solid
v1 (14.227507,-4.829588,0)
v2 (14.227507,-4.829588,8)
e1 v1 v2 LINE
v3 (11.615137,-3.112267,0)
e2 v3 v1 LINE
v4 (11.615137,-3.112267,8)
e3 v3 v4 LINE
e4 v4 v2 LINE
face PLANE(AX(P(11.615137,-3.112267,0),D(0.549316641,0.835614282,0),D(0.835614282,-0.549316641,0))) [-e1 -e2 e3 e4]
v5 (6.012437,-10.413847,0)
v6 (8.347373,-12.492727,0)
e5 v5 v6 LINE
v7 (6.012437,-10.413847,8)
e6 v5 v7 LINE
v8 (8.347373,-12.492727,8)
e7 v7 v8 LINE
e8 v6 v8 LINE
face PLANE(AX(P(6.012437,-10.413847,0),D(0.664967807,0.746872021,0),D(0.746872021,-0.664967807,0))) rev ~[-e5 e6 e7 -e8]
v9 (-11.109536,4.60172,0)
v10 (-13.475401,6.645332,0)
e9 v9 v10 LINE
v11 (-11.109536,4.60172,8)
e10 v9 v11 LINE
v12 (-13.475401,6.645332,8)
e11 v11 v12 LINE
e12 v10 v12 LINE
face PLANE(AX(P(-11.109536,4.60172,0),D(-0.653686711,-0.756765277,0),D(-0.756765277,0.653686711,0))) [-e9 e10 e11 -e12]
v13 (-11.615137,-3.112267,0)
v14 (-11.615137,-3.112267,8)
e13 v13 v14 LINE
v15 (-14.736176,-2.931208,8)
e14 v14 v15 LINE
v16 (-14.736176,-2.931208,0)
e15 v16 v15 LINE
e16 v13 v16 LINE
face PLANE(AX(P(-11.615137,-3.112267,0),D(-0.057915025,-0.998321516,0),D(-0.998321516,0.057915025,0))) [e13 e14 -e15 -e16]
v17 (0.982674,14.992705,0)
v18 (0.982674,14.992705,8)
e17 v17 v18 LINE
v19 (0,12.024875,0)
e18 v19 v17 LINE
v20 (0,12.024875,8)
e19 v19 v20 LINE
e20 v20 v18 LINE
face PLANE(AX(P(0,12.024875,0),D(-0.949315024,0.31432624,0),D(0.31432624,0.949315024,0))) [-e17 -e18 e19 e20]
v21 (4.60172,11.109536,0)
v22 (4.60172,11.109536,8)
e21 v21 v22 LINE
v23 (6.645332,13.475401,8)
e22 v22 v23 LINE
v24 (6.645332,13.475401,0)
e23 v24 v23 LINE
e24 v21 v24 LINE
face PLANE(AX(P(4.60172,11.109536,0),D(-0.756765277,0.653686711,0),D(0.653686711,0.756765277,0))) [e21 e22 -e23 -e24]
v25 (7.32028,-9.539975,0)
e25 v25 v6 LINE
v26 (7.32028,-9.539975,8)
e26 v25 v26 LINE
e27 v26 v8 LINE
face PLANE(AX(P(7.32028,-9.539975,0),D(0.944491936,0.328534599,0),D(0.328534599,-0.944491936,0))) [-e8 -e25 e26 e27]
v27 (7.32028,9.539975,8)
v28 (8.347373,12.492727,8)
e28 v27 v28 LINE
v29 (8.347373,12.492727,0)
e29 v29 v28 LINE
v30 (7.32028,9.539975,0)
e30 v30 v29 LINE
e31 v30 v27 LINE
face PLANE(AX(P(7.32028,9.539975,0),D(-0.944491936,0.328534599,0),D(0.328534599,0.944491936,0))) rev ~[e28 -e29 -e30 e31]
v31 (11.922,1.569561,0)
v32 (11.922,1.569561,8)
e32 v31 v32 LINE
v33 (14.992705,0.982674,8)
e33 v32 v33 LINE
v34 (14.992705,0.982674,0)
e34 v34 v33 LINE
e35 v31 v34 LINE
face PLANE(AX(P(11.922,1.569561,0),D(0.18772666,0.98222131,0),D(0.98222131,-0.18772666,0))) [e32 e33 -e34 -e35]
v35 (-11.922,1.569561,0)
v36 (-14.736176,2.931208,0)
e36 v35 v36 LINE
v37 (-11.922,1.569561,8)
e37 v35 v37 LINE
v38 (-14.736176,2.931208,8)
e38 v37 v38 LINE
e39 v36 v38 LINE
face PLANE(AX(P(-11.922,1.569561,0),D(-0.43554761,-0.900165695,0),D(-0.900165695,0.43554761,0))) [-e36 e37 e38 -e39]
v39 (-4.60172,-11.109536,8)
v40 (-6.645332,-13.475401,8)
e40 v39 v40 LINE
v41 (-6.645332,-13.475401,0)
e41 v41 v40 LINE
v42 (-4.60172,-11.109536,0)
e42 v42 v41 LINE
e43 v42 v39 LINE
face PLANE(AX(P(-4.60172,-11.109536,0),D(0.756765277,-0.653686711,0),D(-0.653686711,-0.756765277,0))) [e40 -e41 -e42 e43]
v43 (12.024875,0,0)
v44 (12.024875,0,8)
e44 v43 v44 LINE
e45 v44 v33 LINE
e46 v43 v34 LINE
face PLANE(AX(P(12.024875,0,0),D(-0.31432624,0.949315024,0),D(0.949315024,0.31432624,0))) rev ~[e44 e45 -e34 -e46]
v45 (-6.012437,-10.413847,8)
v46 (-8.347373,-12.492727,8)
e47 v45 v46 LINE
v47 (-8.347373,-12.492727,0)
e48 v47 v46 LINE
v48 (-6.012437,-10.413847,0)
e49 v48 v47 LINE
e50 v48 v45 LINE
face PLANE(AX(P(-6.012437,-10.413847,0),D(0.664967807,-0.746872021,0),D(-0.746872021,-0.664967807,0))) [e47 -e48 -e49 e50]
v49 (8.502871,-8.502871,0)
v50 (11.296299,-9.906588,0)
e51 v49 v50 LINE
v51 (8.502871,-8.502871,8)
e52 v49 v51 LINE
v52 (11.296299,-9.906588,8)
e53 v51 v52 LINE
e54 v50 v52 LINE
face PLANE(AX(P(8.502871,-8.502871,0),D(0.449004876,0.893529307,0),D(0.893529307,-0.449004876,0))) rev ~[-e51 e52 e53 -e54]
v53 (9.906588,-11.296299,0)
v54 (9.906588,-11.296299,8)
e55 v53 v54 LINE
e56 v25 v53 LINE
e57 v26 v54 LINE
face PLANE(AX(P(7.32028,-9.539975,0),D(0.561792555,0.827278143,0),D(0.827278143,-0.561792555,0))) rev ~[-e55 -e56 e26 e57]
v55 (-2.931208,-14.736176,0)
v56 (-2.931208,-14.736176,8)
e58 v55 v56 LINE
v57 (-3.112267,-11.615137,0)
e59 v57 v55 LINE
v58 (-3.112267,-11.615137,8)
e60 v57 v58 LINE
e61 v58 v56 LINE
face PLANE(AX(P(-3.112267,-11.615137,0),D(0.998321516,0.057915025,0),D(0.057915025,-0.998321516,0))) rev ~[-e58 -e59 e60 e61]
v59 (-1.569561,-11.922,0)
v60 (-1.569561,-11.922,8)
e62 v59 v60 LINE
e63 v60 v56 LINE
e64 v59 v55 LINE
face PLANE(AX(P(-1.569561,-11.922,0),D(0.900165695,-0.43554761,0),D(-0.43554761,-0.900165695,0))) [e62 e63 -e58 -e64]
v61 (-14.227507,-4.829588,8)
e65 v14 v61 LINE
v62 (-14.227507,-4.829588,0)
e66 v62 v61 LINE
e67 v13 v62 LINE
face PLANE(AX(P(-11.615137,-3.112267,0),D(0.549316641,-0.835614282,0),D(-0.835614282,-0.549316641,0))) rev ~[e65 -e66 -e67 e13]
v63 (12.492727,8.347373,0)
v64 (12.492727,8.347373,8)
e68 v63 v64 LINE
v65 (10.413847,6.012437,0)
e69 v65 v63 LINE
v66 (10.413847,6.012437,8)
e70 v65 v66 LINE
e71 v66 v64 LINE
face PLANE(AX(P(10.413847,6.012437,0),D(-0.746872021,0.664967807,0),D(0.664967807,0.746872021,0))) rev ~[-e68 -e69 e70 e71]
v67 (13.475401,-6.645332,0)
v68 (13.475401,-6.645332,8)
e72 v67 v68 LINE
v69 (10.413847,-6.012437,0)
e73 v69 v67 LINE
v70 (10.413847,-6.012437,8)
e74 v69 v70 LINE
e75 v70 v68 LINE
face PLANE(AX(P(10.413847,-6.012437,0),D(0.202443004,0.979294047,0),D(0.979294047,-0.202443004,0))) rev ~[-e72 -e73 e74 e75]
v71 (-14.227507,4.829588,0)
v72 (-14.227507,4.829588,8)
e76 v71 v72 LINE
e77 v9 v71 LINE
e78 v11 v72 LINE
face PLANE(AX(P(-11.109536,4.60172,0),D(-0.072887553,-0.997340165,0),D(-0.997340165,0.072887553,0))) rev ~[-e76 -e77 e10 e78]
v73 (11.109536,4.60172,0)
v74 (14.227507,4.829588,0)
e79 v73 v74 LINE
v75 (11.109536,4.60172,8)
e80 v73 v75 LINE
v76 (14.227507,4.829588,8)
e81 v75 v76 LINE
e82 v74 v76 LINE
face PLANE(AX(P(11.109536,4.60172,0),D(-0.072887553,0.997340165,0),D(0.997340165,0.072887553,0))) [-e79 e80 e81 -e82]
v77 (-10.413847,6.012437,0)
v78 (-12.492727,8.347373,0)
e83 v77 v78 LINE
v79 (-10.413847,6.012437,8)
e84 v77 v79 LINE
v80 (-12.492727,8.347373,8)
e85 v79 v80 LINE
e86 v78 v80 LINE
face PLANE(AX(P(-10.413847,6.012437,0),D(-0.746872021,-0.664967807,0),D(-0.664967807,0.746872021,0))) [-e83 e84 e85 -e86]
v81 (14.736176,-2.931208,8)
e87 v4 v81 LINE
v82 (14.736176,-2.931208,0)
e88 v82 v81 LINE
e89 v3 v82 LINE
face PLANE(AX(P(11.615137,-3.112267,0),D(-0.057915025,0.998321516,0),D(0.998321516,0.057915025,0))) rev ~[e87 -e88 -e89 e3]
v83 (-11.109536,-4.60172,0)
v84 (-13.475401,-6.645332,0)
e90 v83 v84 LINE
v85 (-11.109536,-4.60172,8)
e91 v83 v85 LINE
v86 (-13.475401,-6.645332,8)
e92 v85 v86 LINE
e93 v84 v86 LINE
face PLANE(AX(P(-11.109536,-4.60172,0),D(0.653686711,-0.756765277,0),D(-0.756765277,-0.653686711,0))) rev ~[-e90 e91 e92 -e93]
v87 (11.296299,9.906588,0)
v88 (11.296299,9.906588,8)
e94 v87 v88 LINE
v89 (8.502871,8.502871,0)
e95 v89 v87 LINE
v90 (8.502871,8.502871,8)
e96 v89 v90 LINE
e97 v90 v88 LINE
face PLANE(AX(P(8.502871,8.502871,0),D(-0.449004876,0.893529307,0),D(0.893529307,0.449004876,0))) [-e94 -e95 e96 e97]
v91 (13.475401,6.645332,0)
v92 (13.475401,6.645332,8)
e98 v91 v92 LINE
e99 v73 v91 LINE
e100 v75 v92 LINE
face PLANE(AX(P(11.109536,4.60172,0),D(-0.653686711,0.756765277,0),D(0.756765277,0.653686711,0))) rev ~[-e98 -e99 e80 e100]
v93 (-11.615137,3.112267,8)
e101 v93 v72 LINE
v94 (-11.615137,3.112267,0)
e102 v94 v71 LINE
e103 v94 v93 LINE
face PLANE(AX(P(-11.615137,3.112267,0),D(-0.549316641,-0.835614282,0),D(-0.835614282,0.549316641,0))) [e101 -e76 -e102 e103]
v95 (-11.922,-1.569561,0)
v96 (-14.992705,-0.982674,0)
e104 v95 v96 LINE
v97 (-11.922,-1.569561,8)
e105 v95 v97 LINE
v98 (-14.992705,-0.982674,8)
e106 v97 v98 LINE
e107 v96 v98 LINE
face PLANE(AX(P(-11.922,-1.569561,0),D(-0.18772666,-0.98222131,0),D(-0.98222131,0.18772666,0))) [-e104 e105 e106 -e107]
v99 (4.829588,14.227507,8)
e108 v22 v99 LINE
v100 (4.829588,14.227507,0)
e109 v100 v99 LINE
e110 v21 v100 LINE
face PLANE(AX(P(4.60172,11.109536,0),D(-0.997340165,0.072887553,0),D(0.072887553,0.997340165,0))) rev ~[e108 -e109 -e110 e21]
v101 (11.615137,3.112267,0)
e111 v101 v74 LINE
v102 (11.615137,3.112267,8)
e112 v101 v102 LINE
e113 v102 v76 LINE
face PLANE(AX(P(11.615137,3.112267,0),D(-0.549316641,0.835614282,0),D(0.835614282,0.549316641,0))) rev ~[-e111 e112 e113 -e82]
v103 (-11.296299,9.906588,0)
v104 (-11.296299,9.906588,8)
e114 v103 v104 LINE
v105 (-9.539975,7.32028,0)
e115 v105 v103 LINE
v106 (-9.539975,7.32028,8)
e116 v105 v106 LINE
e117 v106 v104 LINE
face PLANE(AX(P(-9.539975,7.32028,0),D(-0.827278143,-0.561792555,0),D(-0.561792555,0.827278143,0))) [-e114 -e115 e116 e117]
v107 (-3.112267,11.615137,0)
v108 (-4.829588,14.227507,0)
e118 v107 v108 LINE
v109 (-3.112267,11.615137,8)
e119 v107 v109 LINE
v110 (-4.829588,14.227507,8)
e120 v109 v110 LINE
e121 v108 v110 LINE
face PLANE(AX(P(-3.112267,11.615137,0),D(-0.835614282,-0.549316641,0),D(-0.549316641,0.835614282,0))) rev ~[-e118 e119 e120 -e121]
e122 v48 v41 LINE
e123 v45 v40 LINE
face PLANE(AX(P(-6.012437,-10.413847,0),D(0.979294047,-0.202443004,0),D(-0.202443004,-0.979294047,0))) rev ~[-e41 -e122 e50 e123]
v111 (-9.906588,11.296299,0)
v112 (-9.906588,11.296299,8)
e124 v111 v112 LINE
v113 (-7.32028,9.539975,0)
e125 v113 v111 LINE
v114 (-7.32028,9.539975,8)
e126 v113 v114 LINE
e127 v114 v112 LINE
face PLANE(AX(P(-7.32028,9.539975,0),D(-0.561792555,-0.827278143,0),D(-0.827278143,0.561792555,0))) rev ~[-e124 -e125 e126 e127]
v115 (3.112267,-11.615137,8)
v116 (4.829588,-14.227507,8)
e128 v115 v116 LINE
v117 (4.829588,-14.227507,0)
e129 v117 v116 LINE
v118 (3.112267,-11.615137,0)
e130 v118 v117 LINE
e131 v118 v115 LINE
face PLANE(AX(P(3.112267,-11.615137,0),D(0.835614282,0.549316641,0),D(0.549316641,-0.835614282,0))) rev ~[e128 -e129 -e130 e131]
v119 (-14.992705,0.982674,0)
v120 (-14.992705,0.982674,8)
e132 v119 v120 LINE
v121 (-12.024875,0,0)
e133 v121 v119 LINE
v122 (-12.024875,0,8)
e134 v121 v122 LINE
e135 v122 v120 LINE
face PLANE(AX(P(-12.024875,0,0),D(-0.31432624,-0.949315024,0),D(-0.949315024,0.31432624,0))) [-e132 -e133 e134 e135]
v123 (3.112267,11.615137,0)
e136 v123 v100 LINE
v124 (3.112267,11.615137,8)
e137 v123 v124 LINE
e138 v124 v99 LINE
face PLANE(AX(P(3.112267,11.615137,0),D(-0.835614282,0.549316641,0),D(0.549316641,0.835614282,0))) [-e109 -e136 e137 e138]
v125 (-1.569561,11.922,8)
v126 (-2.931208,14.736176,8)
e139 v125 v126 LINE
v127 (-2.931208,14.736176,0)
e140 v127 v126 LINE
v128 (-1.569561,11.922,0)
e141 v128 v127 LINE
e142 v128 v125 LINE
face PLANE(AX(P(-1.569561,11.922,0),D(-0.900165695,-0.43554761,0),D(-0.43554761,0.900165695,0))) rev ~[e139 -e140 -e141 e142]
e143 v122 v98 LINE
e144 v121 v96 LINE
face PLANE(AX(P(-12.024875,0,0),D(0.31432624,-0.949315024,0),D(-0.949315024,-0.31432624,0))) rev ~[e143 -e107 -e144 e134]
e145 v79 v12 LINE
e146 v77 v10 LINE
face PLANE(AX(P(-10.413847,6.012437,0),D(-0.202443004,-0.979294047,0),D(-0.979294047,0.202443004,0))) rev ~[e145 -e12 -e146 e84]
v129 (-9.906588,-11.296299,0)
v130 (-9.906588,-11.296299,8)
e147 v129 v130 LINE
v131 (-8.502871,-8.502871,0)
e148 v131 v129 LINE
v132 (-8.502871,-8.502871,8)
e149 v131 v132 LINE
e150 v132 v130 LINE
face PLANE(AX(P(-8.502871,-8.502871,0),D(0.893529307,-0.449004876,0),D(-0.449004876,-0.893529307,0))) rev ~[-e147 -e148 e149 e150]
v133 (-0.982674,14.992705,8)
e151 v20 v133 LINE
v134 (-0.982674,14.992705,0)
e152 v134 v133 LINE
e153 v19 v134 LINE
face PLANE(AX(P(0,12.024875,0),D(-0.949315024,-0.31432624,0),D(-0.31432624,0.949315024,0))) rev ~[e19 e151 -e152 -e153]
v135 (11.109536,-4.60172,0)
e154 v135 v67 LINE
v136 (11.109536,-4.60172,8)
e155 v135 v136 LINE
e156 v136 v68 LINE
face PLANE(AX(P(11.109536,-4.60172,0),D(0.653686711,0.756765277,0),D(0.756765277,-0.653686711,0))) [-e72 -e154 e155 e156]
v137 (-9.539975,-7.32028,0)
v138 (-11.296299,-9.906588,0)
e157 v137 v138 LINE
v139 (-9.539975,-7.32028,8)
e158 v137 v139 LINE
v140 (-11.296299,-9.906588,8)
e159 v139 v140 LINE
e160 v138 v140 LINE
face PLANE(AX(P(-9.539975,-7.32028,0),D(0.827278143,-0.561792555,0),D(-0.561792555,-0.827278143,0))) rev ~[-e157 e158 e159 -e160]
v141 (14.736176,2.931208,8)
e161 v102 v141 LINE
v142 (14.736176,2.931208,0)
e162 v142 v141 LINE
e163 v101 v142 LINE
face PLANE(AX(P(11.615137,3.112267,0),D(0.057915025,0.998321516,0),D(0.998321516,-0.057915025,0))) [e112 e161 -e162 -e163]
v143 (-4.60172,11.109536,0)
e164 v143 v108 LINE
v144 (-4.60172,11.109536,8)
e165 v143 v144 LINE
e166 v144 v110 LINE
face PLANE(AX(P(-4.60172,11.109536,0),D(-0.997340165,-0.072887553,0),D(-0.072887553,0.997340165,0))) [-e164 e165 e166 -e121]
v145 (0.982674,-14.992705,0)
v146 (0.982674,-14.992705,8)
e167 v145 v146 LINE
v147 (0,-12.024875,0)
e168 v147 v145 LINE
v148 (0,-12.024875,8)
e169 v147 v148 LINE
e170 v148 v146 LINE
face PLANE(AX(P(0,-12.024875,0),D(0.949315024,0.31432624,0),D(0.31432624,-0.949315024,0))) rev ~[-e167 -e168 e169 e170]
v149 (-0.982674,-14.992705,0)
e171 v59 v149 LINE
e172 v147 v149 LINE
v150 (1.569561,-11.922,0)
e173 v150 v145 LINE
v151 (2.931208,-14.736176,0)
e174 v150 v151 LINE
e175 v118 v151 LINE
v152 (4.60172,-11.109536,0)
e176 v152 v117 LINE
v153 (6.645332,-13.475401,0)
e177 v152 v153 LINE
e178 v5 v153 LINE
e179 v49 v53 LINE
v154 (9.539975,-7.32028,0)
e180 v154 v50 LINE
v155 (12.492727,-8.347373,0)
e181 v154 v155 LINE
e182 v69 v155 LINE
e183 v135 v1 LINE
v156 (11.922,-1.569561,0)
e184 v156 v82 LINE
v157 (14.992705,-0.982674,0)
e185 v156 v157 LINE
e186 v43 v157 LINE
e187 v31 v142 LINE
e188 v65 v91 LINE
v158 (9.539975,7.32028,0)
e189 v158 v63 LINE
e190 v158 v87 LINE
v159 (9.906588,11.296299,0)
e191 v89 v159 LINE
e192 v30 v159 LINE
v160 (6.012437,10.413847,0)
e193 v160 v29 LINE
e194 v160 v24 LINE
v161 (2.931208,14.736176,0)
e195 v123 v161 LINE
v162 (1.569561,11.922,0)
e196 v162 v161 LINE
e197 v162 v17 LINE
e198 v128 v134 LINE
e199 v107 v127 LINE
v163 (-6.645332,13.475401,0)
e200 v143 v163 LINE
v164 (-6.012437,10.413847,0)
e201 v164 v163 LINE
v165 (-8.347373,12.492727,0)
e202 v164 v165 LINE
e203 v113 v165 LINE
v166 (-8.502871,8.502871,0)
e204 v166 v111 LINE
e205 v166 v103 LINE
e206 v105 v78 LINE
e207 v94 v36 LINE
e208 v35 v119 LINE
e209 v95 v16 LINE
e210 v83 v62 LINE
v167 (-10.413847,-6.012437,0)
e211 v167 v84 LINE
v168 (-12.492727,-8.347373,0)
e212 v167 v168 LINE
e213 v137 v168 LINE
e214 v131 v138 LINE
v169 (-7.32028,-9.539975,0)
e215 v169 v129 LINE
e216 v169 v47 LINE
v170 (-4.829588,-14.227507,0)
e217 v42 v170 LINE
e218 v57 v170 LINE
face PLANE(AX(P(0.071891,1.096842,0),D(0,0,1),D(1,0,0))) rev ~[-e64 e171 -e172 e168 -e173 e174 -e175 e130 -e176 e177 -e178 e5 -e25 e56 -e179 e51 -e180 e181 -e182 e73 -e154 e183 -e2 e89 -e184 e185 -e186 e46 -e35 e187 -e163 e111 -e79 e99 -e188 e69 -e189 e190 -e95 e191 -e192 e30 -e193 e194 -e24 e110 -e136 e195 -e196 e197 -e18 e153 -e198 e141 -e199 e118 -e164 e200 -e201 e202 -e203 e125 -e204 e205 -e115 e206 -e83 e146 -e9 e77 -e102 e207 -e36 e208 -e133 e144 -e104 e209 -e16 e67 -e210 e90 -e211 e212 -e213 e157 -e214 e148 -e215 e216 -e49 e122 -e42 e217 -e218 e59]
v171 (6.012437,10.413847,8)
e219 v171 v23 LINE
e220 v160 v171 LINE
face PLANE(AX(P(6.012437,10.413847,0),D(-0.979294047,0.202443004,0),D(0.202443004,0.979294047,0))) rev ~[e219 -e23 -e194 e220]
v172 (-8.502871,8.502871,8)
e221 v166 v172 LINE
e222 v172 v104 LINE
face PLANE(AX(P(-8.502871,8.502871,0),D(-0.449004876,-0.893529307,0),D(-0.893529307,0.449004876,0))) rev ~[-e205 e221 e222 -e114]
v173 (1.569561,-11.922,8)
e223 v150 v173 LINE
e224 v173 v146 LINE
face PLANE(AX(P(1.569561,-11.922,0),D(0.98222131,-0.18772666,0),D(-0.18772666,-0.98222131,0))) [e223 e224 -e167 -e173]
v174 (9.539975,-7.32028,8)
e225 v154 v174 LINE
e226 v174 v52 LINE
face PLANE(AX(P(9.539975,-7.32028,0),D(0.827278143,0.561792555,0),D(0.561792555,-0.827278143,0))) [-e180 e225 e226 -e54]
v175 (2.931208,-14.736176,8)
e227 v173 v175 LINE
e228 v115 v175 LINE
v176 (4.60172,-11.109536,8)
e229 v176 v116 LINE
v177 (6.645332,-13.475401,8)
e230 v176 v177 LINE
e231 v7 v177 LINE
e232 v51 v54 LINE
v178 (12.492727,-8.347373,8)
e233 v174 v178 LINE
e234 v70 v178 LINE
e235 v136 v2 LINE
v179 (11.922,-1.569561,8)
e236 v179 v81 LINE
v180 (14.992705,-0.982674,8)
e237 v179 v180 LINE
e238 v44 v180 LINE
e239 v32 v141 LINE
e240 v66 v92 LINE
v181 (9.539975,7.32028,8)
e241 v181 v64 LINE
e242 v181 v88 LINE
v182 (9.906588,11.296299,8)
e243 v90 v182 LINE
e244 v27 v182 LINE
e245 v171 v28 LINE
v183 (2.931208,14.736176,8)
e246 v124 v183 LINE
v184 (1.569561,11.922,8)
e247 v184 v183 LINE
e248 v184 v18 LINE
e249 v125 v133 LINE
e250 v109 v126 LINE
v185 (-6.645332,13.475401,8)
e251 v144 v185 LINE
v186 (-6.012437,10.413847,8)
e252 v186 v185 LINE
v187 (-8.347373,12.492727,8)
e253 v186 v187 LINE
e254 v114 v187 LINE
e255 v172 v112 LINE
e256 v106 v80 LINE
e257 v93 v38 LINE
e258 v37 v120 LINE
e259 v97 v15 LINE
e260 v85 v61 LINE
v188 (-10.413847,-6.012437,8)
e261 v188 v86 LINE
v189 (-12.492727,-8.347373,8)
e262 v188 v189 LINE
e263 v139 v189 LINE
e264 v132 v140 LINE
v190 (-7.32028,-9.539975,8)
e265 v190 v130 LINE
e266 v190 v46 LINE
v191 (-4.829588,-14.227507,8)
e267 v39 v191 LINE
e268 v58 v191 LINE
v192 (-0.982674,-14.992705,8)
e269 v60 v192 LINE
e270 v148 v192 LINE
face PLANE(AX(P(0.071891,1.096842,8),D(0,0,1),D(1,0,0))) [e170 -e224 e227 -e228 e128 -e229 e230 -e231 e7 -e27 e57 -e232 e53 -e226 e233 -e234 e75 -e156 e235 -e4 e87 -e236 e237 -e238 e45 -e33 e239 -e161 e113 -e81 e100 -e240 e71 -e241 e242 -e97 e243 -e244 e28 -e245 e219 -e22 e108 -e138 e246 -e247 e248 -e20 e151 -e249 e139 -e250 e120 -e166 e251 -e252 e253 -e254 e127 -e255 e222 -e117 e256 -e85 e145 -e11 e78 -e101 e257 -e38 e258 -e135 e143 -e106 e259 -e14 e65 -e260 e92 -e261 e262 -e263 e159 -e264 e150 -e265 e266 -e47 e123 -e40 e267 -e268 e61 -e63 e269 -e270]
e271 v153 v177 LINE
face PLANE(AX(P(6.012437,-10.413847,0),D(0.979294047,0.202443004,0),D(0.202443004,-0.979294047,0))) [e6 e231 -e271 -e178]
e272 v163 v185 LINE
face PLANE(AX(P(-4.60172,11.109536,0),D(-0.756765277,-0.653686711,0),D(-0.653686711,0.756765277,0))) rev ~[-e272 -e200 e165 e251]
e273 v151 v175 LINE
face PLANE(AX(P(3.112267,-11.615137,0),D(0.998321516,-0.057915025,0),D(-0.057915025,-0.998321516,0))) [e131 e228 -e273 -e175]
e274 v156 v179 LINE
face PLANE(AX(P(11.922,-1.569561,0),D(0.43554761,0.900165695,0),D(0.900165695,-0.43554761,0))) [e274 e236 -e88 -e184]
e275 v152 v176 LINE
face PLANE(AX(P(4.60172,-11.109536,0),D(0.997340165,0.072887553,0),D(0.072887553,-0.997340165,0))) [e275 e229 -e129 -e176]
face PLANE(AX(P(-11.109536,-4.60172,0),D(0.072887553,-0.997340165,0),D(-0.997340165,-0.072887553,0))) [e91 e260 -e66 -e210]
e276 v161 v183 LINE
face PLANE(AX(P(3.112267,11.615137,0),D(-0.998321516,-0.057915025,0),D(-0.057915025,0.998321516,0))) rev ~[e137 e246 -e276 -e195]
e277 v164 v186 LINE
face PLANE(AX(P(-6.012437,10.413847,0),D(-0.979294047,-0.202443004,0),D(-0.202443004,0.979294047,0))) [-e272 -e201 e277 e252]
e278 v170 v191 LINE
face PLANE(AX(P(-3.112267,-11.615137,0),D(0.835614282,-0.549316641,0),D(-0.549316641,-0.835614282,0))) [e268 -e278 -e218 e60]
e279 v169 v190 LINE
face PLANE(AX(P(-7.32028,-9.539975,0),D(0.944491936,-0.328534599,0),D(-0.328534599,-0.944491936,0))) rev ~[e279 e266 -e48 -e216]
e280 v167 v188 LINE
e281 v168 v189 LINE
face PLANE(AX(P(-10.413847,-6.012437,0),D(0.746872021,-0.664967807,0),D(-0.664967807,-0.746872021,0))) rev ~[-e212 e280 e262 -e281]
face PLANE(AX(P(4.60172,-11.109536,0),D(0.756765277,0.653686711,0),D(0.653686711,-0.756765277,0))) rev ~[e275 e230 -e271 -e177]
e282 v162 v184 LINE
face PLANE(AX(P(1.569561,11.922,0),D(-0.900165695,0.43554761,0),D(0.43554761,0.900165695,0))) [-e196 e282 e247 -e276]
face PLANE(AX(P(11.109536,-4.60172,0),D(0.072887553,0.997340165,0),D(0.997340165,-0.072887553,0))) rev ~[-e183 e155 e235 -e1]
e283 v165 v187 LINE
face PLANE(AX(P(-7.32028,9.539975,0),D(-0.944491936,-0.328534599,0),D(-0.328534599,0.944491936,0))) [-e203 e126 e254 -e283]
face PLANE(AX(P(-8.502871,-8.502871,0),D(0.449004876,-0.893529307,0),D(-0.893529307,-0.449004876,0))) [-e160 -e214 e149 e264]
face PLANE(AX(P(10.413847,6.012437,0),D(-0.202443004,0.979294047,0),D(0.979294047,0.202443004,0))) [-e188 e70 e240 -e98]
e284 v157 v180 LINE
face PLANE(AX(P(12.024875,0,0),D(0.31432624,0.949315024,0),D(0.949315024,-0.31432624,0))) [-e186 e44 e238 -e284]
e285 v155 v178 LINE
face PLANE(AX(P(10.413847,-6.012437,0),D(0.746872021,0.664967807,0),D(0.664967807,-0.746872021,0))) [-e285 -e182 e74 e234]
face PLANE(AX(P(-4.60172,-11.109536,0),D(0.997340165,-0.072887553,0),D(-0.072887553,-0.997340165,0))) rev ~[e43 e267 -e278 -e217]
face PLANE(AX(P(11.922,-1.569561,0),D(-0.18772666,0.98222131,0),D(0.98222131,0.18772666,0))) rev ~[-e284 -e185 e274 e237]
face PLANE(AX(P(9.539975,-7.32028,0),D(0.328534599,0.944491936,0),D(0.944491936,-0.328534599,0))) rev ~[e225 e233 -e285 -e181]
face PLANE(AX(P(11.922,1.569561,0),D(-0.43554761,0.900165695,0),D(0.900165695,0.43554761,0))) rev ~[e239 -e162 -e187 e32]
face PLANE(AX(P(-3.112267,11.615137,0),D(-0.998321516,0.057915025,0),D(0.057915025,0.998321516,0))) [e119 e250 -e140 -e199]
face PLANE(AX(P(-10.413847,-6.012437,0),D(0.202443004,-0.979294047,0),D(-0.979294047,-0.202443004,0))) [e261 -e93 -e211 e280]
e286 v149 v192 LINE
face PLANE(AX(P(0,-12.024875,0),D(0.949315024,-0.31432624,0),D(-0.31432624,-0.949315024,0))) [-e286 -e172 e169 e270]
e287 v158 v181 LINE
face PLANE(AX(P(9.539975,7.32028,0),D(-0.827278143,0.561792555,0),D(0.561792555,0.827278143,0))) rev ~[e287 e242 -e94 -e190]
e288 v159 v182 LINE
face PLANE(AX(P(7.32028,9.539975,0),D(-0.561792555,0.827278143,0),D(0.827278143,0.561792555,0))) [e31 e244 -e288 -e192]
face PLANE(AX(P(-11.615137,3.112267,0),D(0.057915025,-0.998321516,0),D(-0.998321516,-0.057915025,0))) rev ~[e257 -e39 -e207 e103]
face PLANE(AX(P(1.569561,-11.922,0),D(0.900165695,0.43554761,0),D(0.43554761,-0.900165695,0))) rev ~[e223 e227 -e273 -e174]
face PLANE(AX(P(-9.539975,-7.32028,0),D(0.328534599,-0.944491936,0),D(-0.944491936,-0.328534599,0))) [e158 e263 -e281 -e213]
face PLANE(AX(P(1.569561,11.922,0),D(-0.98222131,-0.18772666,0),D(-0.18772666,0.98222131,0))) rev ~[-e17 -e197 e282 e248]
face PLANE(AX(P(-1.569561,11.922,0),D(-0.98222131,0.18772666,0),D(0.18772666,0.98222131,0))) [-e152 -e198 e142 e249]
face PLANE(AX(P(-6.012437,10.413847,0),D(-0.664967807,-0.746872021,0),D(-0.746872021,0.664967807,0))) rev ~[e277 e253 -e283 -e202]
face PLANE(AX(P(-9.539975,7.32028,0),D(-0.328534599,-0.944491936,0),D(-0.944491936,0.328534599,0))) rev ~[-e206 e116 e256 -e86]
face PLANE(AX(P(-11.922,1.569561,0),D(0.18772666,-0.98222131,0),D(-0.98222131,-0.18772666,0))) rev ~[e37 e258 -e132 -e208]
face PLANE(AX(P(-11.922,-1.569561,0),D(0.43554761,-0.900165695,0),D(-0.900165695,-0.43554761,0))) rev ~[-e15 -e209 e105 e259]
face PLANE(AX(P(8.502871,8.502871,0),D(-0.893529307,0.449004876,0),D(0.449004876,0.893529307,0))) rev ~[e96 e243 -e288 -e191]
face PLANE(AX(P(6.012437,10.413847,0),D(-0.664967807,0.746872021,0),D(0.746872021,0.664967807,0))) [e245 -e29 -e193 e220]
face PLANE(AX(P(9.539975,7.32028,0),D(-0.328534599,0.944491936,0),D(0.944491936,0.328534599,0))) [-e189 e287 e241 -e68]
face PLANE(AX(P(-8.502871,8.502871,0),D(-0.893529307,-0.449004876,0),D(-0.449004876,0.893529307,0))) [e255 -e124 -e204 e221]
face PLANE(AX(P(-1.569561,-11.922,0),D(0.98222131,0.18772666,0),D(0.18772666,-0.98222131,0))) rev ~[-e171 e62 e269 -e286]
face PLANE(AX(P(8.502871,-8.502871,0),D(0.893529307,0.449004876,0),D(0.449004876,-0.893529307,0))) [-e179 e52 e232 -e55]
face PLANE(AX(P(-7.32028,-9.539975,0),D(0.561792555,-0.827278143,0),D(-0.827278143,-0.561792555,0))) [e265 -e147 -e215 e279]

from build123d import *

# Parameters (mm, degrees)
PAD_DEPTH          = 8
POLARPATTERN_COUNT = 48


with BuildPart() as part:
    # Sketch → Pad (new body)
    with BuildSketch(Plane.XY):
        with BuildLine():
            ThreePointArc((0, 12.0248747975), (-0.7864644404, -11.9991286175), (1.5695611192, 11.9220003266))
            Line((1.5695611192, 11.9220003266), (0.982673828, 14.9927053872))
            Line((0, 12.0248747975), (0.982673828, 14.9927053872))
        make_face()
    extrude(amount=PAD_DEPTH)

    # PolarPattern: part ×48 about axis
    polarpattern_axis = Axis((0, 0, 0), (0, 0, 1))


with BuildPart() as part_1:
    add(part.part)
    for i in range(1, POLARPATTERN_COUNT):
        add(part.part.rotate(polarpattern_axis, i * 360 / POLARPATTERN_COUNT))


solid = part_1.part
